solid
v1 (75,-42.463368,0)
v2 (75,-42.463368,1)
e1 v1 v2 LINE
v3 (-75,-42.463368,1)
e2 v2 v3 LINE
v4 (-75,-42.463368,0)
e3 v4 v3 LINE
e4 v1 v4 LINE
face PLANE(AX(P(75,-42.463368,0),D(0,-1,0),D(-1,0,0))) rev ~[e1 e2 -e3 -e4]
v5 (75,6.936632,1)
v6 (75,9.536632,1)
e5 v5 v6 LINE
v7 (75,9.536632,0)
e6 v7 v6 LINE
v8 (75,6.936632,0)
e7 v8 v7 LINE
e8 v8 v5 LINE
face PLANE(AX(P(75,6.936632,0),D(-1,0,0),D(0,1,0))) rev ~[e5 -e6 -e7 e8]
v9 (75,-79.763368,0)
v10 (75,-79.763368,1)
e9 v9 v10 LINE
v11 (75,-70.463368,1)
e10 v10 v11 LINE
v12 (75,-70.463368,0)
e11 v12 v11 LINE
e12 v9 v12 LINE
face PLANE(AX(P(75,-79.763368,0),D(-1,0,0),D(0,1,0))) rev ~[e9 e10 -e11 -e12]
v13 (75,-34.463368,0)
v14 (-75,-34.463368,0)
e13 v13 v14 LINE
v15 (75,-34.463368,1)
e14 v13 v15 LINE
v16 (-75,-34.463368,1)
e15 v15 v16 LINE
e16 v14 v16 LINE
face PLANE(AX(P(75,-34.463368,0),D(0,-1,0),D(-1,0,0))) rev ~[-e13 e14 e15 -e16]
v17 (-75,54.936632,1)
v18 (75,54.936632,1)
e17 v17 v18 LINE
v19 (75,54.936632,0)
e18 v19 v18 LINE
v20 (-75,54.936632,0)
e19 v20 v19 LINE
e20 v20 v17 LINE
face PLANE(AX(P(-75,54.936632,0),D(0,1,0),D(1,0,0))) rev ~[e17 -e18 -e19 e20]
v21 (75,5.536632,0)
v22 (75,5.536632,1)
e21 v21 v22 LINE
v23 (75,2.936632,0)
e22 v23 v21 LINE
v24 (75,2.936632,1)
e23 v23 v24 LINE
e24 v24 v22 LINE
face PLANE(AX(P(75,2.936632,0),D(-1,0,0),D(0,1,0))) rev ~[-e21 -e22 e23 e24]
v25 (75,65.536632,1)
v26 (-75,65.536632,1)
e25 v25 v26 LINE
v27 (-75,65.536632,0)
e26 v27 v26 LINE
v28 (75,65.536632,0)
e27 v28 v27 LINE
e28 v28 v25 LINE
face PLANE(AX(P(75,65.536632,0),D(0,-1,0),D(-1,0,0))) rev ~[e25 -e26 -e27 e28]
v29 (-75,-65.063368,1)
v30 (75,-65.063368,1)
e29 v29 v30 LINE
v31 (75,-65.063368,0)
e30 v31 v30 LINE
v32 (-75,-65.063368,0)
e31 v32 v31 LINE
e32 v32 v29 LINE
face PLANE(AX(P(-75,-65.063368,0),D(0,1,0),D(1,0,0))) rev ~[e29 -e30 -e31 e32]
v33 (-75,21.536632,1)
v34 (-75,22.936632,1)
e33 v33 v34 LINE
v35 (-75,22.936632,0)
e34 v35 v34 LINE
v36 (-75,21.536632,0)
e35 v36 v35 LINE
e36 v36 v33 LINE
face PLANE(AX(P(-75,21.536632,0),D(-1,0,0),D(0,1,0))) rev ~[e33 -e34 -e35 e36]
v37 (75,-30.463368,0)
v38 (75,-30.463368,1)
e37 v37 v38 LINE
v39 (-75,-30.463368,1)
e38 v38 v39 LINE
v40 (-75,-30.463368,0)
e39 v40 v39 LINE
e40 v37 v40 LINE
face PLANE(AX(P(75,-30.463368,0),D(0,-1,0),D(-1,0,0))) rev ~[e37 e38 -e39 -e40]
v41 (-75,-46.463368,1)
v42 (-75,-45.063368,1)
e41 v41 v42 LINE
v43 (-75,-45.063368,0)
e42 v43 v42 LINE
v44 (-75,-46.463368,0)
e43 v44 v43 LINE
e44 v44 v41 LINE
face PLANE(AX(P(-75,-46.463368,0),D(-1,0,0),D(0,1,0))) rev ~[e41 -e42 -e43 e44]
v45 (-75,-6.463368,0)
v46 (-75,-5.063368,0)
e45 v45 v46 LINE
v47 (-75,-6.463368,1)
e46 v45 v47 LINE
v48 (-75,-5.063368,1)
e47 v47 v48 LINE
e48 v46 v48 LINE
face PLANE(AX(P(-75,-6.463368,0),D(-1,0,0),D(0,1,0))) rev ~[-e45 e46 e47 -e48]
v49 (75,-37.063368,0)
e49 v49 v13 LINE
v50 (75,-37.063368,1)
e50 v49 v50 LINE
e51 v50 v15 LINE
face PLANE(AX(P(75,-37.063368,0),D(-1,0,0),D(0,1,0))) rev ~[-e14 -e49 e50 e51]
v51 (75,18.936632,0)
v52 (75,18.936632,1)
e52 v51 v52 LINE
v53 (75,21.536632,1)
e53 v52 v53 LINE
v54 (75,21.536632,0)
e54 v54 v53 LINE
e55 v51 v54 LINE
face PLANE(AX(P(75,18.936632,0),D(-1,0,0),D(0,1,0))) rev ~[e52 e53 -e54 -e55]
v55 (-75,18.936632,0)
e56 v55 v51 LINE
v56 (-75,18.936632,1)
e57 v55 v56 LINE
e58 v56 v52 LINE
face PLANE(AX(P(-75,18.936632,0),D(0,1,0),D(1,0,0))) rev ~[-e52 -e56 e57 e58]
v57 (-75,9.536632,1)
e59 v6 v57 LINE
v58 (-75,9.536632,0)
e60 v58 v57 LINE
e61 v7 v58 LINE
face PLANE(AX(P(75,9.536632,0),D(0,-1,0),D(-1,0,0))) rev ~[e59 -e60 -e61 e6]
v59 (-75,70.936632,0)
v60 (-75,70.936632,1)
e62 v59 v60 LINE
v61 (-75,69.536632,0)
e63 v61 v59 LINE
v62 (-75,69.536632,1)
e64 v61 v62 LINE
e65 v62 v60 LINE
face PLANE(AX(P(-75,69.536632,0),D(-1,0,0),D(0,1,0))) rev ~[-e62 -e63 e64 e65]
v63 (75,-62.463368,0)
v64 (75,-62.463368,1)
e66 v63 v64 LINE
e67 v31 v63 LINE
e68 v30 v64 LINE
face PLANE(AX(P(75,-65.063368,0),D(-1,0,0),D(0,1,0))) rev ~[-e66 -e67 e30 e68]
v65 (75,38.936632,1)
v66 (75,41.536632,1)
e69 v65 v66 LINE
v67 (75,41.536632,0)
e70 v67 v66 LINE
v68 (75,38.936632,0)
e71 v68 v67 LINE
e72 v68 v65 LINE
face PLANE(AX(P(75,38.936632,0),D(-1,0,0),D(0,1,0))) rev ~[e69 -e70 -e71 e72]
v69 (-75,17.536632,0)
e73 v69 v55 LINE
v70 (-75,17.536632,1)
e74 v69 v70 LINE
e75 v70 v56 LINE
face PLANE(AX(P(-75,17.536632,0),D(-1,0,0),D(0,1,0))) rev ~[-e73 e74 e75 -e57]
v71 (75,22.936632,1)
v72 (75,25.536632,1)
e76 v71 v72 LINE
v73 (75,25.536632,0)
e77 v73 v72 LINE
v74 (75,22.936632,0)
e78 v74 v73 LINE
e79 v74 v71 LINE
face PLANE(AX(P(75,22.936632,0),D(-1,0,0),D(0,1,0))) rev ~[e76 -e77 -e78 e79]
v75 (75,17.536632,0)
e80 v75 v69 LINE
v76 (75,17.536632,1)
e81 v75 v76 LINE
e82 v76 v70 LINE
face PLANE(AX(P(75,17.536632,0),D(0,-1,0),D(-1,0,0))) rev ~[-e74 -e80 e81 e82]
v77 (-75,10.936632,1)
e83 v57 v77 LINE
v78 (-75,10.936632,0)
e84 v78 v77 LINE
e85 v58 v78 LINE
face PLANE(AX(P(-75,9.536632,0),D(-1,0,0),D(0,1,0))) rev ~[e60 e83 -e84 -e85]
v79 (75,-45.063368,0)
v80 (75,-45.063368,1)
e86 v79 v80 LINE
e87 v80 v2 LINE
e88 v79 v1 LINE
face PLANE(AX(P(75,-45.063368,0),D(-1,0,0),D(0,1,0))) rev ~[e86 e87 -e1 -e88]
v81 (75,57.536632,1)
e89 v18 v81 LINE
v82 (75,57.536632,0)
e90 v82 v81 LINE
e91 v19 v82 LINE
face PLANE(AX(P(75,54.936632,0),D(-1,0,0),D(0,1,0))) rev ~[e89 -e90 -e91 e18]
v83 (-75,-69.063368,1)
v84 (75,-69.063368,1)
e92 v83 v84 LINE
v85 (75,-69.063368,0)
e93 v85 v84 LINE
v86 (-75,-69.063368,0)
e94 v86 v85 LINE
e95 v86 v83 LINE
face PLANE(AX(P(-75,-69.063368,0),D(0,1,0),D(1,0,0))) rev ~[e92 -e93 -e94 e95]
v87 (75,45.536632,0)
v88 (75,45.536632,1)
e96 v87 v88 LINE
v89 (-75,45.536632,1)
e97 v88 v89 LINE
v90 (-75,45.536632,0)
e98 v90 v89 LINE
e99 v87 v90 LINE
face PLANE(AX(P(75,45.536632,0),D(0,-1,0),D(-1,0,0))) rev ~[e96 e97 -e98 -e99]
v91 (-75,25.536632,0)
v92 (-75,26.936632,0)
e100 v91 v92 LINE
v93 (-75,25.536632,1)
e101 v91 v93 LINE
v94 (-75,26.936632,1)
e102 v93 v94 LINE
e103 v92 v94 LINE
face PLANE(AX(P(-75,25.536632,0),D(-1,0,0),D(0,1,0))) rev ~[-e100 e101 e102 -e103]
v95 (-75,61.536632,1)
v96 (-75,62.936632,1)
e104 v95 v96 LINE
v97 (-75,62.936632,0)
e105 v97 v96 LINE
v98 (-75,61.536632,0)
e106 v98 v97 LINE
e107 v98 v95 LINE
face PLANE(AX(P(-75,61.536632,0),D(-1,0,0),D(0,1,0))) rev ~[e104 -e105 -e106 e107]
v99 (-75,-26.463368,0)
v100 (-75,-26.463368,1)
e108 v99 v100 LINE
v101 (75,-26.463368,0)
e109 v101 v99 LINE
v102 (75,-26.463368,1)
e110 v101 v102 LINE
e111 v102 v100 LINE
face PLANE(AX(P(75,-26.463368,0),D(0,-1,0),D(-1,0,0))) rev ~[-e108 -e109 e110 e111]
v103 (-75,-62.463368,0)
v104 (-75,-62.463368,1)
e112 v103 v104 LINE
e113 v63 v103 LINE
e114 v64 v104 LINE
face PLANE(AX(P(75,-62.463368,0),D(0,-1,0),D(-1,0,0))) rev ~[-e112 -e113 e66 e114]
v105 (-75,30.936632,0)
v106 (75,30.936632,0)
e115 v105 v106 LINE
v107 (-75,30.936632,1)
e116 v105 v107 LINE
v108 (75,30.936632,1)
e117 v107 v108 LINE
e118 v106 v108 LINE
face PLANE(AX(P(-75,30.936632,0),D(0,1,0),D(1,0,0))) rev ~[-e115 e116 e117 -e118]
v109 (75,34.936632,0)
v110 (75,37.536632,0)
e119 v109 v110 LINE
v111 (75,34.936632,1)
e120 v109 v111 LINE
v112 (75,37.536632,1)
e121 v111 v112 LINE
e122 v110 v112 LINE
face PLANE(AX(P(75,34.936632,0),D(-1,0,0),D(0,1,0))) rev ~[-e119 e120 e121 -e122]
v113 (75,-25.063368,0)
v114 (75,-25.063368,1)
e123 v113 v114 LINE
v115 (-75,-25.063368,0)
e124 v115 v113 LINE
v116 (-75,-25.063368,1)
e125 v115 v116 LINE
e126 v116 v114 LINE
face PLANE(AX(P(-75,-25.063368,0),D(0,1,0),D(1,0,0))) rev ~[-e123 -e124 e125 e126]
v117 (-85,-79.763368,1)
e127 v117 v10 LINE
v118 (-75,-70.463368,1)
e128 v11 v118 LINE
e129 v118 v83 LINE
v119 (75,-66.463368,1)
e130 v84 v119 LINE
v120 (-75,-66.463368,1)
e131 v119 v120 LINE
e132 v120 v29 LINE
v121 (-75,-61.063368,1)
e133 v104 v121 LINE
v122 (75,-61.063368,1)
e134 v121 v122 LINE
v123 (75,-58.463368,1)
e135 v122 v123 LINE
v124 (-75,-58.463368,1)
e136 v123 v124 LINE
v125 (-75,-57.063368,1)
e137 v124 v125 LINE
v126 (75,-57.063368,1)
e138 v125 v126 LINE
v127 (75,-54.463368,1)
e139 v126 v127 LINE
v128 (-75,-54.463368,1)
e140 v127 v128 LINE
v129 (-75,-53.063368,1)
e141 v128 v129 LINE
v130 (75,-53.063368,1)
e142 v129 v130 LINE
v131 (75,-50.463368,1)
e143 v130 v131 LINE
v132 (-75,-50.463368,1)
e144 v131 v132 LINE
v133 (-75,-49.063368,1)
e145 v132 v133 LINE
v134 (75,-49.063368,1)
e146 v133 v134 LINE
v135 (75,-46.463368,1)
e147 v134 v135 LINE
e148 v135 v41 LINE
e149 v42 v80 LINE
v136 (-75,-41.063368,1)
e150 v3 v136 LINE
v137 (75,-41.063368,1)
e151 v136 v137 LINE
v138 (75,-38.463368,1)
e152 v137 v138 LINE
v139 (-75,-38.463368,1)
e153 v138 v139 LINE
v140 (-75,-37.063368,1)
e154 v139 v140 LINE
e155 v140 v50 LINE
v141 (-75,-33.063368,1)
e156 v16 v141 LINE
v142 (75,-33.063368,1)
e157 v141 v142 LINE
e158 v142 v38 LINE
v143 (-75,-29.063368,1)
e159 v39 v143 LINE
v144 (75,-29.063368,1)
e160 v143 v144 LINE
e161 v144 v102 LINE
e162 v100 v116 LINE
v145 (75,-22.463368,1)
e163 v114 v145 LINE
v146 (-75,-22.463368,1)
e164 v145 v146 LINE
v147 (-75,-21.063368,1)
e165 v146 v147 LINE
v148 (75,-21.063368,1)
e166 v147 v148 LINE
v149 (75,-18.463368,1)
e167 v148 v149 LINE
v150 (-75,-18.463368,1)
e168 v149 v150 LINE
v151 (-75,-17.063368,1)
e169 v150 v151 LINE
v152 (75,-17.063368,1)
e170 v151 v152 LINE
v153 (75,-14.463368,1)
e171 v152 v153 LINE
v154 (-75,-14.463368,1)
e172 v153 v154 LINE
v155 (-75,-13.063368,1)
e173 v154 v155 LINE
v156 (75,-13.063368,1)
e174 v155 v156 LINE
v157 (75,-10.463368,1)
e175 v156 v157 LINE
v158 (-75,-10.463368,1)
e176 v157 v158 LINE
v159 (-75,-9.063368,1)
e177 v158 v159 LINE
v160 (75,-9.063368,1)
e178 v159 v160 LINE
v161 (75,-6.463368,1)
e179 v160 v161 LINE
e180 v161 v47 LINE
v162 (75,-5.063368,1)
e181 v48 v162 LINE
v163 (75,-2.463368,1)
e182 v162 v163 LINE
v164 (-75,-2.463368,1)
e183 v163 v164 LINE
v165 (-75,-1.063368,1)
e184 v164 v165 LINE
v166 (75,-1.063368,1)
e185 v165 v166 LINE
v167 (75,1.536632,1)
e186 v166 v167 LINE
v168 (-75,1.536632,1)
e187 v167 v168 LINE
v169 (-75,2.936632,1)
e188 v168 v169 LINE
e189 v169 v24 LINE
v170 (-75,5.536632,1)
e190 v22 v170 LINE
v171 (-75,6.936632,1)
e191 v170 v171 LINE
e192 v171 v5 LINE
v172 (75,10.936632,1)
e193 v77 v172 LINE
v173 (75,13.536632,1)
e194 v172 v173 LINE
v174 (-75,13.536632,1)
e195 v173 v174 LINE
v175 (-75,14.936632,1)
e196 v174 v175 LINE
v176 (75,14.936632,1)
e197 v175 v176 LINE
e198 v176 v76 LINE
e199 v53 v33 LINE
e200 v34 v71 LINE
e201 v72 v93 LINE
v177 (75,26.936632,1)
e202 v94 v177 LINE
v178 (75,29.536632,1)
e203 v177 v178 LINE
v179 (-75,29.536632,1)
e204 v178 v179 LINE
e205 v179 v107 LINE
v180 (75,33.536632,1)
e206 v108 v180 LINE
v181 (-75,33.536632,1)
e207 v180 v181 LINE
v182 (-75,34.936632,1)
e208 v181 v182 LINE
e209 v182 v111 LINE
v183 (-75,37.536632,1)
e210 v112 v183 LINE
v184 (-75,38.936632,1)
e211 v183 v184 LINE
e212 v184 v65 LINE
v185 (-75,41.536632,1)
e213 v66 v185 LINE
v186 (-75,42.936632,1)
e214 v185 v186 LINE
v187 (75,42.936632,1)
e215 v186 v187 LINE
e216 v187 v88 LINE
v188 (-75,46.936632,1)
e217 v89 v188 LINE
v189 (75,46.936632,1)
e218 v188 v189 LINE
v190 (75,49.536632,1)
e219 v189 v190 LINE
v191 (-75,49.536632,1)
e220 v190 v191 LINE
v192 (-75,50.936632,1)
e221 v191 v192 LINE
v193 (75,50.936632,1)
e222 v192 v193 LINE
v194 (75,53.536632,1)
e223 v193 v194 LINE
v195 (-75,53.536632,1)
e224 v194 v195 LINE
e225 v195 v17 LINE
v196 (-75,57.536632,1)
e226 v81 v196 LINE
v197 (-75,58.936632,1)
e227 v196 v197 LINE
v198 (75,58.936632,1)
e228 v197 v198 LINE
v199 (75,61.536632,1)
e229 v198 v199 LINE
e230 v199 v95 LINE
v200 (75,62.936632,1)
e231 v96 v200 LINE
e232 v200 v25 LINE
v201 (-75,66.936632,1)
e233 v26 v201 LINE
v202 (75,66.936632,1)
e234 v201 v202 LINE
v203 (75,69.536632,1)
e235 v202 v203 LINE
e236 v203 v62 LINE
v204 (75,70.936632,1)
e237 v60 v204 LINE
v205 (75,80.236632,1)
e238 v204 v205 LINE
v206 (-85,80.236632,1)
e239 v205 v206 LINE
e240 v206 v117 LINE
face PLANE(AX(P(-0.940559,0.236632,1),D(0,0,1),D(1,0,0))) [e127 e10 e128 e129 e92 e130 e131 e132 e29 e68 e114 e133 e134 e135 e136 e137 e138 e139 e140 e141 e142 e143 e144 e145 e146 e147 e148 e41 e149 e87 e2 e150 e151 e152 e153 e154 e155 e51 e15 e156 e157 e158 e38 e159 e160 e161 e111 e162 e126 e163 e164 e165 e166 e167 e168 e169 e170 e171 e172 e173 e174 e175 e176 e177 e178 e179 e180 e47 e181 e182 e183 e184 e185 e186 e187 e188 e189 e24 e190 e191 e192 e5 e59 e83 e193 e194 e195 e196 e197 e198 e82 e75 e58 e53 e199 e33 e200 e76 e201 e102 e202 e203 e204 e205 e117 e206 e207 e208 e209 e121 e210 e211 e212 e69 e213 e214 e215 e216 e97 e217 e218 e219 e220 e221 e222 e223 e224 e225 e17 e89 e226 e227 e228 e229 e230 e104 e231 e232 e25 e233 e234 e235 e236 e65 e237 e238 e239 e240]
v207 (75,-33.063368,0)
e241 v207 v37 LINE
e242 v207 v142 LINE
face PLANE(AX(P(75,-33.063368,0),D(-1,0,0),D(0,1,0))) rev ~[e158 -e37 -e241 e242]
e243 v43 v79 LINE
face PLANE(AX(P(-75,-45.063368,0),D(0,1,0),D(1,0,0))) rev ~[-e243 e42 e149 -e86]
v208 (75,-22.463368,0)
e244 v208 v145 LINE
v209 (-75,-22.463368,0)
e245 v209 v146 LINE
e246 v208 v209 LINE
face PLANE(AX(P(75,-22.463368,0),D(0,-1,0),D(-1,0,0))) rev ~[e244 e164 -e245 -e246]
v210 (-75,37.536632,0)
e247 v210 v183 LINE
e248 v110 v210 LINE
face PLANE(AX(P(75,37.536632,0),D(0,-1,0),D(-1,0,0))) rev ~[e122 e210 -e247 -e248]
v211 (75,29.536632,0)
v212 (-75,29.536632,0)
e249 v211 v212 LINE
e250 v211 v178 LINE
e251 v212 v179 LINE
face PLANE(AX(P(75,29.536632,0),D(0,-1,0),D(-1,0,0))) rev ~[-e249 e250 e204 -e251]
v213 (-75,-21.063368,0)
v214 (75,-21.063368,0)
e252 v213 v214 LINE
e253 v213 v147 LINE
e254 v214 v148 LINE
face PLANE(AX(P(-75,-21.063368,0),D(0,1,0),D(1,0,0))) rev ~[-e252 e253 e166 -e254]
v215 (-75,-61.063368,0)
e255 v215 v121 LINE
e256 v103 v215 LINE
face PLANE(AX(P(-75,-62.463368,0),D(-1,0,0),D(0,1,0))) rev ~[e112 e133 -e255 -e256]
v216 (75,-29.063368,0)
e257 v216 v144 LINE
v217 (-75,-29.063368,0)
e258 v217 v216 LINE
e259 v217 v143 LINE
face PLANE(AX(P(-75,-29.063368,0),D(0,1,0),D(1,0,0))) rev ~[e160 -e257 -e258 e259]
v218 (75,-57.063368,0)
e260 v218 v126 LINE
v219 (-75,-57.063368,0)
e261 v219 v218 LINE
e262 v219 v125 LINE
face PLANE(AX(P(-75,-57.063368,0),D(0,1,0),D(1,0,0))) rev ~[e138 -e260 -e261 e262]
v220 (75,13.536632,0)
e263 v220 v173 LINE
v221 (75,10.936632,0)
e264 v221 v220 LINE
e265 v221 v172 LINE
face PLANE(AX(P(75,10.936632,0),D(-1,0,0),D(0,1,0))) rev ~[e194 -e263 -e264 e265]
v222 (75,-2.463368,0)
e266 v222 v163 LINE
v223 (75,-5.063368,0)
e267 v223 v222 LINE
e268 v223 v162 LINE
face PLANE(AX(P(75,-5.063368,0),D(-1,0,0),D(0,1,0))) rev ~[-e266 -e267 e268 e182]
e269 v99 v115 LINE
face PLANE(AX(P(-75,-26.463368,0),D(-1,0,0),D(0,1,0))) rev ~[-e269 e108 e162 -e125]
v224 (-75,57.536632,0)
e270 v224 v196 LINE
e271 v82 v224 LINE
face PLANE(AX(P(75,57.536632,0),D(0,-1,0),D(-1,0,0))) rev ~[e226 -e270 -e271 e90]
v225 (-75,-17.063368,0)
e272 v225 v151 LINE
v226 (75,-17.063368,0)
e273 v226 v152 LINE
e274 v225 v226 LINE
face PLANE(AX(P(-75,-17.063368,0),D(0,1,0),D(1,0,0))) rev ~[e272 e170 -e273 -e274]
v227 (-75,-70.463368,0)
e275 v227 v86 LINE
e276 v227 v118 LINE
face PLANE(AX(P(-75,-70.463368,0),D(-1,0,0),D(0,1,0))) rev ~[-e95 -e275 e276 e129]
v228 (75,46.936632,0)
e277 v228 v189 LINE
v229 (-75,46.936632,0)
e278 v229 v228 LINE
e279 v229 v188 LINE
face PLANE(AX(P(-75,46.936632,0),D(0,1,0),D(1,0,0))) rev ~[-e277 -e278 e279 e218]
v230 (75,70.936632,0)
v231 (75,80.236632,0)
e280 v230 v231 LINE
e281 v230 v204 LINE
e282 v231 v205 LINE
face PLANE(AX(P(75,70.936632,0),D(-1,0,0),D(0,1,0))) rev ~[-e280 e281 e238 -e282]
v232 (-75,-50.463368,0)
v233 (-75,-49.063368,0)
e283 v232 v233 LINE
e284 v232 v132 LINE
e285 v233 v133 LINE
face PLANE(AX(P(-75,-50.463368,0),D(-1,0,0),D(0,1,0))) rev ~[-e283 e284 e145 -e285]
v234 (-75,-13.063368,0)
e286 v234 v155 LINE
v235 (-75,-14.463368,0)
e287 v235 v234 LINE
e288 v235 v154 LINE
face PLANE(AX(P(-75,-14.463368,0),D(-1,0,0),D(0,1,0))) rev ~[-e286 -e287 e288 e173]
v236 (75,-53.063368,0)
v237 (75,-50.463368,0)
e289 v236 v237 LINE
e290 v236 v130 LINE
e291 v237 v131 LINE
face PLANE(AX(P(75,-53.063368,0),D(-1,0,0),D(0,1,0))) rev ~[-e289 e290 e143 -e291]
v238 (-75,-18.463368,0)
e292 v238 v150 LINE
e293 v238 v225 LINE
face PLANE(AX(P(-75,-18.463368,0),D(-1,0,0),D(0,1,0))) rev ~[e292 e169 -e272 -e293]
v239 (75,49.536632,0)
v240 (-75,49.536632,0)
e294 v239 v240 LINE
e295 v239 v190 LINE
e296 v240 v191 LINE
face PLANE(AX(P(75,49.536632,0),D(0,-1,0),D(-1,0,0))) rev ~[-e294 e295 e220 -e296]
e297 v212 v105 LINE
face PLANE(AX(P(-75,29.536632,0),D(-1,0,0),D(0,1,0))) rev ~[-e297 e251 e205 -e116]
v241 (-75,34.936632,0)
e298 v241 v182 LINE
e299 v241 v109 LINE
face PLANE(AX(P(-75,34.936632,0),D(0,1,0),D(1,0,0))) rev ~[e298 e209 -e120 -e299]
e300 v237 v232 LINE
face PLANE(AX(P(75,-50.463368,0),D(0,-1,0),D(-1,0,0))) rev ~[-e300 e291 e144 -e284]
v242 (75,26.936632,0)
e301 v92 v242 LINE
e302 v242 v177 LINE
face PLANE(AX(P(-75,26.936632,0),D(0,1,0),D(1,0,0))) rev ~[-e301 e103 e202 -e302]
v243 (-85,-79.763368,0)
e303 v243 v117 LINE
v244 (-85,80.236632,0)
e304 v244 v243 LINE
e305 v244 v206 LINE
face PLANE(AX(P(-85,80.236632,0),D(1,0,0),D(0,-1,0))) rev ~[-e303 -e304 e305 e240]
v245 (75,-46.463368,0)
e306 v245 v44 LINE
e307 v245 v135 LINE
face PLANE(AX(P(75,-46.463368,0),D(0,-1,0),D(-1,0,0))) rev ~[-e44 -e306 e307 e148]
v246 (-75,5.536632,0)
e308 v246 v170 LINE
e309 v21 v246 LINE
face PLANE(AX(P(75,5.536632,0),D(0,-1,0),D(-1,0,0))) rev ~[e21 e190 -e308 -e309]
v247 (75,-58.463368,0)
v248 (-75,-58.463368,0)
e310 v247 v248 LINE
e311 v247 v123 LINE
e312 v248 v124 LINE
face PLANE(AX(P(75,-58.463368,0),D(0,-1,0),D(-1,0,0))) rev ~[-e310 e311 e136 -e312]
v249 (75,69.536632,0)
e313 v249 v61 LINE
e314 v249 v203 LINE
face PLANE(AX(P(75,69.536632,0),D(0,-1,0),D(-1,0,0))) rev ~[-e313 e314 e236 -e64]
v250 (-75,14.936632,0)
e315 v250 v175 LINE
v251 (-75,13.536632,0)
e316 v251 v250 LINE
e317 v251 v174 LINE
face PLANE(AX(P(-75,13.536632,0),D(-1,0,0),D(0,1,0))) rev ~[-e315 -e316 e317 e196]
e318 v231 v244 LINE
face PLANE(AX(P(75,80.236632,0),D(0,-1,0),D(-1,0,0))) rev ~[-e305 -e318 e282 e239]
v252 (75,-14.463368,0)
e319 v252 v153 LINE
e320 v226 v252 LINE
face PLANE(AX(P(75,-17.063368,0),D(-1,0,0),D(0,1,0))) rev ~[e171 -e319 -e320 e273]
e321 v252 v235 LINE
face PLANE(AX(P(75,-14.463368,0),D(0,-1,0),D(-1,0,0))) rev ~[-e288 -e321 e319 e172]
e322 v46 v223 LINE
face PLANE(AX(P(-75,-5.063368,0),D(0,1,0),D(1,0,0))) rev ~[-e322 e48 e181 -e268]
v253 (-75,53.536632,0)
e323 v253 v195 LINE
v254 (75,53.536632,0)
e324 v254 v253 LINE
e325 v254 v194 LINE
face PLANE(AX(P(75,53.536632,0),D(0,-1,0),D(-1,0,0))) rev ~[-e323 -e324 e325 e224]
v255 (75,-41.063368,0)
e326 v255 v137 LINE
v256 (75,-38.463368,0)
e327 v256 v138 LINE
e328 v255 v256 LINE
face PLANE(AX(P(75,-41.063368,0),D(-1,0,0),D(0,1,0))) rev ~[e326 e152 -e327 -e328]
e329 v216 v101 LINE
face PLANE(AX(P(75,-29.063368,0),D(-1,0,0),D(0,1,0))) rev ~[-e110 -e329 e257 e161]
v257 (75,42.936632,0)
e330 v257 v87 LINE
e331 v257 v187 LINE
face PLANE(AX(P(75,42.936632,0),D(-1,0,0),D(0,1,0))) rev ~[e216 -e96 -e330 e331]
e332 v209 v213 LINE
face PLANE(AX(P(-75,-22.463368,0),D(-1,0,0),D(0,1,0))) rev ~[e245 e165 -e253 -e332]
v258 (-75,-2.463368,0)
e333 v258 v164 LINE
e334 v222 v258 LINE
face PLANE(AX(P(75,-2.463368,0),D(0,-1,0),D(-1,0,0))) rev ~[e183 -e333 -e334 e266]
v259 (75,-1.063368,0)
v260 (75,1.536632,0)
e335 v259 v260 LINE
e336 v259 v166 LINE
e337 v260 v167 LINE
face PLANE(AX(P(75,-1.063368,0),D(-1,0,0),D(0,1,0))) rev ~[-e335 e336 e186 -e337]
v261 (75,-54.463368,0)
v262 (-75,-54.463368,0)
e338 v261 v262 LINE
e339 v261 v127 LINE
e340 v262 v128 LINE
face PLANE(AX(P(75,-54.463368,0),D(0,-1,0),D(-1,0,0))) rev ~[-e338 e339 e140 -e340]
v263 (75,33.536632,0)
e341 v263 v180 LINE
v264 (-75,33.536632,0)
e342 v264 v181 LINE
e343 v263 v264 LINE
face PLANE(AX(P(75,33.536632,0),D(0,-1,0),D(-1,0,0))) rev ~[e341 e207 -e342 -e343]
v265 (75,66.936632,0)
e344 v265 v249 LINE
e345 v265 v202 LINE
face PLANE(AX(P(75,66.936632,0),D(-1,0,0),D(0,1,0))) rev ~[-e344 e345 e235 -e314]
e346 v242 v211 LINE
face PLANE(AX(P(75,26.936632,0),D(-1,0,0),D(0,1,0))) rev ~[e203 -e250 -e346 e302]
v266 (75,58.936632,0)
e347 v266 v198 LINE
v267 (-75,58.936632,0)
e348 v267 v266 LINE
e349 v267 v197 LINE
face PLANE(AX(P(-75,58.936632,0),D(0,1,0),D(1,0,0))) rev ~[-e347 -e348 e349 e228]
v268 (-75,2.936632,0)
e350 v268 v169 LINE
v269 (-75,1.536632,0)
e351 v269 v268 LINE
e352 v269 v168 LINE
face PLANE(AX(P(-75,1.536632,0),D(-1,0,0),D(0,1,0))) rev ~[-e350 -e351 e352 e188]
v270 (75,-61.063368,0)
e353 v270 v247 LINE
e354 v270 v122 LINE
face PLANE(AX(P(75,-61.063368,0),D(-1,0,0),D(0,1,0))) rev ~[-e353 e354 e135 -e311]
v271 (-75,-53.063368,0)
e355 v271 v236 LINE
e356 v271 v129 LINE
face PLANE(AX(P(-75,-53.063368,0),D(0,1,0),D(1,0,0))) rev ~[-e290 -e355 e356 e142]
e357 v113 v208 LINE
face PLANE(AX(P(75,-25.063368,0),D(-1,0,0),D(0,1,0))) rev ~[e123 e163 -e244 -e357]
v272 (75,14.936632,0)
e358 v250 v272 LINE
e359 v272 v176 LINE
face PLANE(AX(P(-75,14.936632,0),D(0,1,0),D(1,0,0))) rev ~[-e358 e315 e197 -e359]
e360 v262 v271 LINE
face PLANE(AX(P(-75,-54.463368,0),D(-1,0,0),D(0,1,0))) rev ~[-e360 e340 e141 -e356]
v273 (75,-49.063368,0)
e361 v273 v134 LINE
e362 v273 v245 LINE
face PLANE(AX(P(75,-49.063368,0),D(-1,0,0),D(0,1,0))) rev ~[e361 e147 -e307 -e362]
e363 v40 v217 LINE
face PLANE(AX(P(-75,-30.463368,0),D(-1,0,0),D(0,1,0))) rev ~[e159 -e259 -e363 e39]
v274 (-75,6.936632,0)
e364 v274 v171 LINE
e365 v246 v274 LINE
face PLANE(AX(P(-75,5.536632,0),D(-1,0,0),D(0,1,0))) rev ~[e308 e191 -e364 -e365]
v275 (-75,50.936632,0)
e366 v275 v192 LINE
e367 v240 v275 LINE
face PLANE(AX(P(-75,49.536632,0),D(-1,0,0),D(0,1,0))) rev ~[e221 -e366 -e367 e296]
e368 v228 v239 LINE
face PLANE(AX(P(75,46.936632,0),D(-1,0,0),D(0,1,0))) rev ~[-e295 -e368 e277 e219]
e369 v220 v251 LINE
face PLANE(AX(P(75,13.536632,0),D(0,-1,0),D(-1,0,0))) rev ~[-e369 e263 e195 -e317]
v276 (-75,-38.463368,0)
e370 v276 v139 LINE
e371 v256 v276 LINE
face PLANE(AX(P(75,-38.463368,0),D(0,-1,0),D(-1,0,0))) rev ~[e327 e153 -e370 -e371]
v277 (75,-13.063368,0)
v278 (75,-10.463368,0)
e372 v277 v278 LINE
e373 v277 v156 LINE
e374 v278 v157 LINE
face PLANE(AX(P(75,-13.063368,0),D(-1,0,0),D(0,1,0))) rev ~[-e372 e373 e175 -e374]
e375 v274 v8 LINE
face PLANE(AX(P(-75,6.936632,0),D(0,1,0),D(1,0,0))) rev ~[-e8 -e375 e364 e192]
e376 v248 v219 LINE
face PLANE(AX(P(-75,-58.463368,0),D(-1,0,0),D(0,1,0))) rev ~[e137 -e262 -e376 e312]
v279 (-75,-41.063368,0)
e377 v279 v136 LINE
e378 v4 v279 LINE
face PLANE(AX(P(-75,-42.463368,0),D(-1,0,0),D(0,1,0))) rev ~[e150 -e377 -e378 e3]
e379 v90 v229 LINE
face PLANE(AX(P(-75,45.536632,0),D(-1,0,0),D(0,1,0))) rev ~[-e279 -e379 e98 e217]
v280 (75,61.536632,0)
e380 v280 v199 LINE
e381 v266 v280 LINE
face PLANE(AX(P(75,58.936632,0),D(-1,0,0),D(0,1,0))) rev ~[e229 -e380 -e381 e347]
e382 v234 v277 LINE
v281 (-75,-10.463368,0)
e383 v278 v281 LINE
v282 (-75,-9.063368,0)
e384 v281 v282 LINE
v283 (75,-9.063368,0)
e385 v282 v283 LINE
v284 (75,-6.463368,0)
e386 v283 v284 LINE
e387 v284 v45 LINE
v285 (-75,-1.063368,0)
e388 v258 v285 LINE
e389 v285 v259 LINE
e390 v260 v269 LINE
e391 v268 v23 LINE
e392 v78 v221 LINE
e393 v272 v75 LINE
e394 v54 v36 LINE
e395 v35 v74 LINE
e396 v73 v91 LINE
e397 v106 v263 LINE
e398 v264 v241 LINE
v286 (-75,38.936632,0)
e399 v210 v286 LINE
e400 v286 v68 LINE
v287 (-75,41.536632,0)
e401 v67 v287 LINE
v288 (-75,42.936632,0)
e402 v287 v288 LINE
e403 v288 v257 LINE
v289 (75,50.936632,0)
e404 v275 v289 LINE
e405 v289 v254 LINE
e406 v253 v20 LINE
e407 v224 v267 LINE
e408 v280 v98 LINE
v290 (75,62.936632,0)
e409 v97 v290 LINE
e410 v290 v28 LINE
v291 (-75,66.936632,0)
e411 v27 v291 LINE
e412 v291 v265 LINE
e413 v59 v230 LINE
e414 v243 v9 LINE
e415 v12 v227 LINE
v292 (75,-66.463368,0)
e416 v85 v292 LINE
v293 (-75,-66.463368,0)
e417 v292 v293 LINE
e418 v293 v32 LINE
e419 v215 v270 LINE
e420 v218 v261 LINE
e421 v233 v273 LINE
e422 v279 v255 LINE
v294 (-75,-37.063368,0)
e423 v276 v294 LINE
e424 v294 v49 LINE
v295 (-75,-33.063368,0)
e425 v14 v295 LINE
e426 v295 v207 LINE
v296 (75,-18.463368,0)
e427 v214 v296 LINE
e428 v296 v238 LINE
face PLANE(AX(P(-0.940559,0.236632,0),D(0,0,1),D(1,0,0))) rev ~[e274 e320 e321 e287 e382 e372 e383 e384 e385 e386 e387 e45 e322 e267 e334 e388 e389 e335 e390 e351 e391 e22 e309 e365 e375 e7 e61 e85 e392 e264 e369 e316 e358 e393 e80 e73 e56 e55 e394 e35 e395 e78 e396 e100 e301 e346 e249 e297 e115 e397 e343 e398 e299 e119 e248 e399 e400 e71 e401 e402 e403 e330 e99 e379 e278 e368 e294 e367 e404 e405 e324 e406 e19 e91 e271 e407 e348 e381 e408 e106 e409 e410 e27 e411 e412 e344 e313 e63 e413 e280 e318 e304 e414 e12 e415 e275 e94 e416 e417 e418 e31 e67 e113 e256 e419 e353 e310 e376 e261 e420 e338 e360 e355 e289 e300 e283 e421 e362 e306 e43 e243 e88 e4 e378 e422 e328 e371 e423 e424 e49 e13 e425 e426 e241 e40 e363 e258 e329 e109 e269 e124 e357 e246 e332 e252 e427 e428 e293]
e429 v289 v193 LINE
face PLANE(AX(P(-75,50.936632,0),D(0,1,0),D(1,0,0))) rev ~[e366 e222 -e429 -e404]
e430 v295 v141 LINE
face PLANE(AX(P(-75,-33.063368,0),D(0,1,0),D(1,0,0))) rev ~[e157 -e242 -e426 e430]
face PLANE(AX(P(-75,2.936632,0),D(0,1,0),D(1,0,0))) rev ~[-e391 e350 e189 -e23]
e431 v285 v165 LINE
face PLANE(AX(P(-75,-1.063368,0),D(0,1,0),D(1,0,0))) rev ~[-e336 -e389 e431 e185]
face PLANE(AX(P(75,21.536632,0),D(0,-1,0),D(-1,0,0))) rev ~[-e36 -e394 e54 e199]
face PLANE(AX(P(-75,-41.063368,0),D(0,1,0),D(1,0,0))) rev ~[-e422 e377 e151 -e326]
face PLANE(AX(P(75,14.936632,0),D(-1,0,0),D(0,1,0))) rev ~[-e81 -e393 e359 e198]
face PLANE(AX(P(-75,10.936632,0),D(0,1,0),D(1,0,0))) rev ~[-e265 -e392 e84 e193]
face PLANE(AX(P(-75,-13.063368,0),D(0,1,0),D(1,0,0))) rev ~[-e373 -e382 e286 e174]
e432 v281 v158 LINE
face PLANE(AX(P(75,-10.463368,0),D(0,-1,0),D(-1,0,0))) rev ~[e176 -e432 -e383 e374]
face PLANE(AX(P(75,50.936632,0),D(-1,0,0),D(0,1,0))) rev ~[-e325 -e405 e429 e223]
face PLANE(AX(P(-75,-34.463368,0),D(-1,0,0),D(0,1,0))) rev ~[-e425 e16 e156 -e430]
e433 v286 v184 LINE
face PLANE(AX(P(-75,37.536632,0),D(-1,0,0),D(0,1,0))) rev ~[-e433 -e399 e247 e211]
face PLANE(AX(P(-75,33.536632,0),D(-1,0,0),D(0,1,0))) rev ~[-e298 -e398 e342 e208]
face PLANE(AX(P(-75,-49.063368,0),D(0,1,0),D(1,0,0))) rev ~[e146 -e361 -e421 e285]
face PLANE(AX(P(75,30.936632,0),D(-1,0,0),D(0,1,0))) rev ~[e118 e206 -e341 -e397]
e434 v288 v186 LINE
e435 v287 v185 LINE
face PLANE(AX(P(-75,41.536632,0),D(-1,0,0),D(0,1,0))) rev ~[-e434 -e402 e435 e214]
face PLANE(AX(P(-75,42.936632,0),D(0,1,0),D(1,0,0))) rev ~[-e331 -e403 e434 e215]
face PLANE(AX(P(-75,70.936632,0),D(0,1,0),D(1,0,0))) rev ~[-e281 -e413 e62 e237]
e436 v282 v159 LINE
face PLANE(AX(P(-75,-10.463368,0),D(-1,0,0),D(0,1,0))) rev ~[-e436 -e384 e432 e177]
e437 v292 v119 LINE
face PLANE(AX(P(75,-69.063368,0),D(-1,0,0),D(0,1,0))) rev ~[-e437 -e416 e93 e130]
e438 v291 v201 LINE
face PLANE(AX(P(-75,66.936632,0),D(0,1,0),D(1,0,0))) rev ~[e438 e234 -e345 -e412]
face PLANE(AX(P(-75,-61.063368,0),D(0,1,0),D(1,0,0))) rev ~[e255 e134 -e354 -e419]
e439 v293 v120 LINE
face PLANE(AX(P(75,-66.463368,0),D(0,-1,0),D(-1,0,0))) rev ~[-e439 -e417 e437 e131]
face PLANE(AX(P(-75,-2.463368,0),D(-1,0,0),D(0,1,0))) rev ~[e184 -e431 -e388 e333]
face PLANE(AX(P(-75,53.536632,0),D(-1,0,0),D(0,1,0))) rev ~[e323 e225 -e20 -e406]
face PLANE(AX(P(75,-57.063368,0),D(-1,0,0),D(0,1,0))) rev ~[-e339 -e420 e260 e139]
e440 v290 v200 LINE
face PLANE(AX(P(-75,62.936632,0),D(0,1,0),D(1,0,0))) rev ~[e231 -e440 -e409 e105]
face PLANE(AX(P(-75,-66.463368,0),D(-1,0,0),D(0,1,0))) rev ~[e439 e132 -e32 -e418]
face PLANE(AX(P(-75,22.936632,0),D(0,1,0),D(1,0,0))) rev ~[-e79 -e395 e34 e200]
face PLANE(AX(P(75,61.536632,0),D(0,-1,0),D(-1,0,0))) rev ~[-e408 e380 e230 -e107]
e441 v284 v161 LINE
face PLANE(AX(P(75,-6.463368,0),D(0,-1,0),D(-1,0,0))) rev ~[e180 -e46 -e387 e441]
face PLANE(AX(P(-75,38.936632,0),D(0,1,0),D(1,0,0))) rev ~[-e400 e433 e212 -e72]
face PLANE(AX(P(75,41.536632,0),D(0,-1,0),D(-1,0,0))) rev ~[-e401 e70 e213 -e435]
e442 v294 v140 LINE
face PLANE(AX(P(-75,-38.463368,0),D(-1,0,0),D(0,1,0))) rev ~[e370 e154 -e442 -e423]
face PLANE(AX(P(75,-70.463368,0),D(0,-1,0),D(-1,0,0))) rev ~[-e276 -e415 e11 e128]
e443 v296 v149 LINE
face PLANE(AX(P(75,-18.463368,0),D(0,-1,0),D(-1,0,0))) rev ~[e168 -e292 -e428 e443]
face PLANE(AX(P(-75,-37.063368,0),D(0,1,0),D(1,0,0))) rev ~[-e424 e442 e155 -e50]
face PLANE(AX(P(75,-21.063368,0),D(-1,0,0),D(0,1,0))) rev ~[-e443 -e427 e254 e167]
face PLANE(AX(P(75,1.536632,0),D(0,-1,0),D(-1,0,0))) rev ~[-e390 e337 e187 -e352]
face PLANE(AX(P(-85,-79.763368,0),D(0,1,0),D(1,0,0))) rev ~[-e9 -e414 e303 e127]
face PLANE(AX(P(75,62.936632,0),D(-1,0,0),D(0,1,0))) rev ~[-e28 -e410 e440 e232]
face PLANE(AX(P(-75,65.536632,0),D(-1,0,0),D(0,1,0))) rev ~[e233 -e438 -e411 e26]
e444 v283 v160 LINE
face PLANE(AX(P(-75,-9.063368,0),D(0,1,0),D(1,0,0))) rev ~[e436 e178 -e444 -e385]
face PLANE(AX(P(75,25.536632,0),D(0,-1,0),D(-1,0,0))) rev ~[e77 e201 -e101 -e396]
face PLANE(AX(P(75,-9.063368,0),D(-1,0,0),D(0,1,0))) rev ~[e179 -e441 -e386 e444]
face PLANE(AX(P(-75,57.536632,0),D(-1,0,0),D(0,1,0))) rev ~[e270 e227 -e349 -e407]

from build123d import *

# Parameters (mm, degrees)
EXTRUDE_1_DEPTH = 1


with BuildPart() as part:
    # 草图1 → 凸台-拉伸1 (new body)
    with BuildSketch(Plane.XY):
        Polygon((-75, -66.463368351), (-75, -65.063368351), (75, -65.063368351), (75, -62.463368351), (-75, -62.463368351), (-75, -61.063368351), (75, -61.063368351), (75, -58.463368351), (-75, -58.463368351), (-75, -57.063368351), (75, -57.063368351), (75, -54.463368351), (-75, -54.463368351), (-75, -53.063368351), (75, -53.063368351), (75, -50.463368351), (-75, -50.463368351), (-75, -49.063368351), (75, -49.063368351), (75, -46.463368351), (-75, -46.463368351), (-75, -45.063368351), (75, -45.063368351), (75, -42.463368351), (-75, -42.463368351), (-75, -41.063368351), (75, -41.063368351), (75, -38.463368351), (-75, -38.463368351), (-75, -37.063368351), (75, -37.063368351), (75, -34.463368351), (-75, -34.463368351), (-75, -33.063368351), (75, -33.063368351), (75, -30.463368351), (-75, -30.463368351), (-75, -29.063368351), (75, -29.063368351), (75, -26.463368351), (-75, -26.463368351), (-75, -25.063368351), (75, -25.063368351), (75, -22.463368351), (-75, -22.463368351), (-75, -21.063368351), (75, -21.063368351), (75, -18.463368351), (-75, -18.463368351), (-75, -17.063368351), (75, -17.063368351), (75, -14.463368351), (-75, -14.463368351), (-75, -13.063368351), (75, -13.063368351), (75, -10.463368351), (-75, -10.463368351), (-75, -9.063368351), (75, -9.063368351), (75, -6.463368351), (-75, -6.463368351), (-75, -5.063368351), (75, -5.063368351), (75, -2.463368351), (-75, -2.463368351), (-75, -1.063368351), (75, -1.063368351), (75, 1.536631649), (-75, 1.536631649), (-75, 2.936631649), (75, 2.936631649), (75, 5.536631649), (-75, 5.536631649), (-75, 6.936631649), (75, 6.936631649), (75, 9.536631649), (-75, 9.536631649), (-75, 10.936631649), (75, 10.936631649), (75, 13.536631649), (-75, 13.536631649), (-75, 14.936631649), (75, 14.936631649), (75, 17.536631649), (-75, 17.536631649), (-75, 18.936631649), (75, 18.936631649), (75, 21.536631649), (-75, 21.536631649), (-75, 22.936631649), (75, 22.936631649), (75, 25.536631649), (-75, 25.536631649), (-75, 26.936631649), (75, 26.936631649), (75, 29.536631649), (-75, 29.536631649), (-75, 30.936631649), (75, 30.936631649), (75, 33.536631649), (-75, 33.536631649), (-75, 34.936631649), (75, 34.936631649), (75, 37.536631649), (-75, 37.536631649), (-75, 38.936631649), (75, 38.936631649), (75, 41.536631649), (-75, 41.536631649), (-75, 42.936631649), (75, 42.936631649), (75, 45.536631649), (-75, 45.536631649), (-75, 46.936631649), (75, 46.936631649), (75, 49.536631649), (-75, 49.536631649), (-75, 50.936631649), (75, 50.936631649), (75, 53.536631649), (-75, 53.536631649), (-75, 54.936631649), (75, 54.936631649), (75, 57.536631649), (-75, 57.536631649), (-75, 58.936631649), (75, 58.936631649), (75, 61.536631649), (-75, 61.536631649), (-75, 62.936631649), (75, 62.936631649), (75, 65.536631649), (-75, 65.536631649), (-75, 66.936631649), (75, 66.936631649), (75, 69.536631649), (-75, 69.536631649), (-75, 70.936631649), (75, 70.936631649), (75, 80.236631649), (-85, 80.236631649), (-85, -79.763368351), (75, -79.763368351), (75, -70.463368351), (-75, -70.463368351), (-75, -69.063368351), (75, -69.063368351), (75, -66.463368351), align=None)
    extrude(amount=EXTRUDE_1_DEPTH)


solid = part.part
